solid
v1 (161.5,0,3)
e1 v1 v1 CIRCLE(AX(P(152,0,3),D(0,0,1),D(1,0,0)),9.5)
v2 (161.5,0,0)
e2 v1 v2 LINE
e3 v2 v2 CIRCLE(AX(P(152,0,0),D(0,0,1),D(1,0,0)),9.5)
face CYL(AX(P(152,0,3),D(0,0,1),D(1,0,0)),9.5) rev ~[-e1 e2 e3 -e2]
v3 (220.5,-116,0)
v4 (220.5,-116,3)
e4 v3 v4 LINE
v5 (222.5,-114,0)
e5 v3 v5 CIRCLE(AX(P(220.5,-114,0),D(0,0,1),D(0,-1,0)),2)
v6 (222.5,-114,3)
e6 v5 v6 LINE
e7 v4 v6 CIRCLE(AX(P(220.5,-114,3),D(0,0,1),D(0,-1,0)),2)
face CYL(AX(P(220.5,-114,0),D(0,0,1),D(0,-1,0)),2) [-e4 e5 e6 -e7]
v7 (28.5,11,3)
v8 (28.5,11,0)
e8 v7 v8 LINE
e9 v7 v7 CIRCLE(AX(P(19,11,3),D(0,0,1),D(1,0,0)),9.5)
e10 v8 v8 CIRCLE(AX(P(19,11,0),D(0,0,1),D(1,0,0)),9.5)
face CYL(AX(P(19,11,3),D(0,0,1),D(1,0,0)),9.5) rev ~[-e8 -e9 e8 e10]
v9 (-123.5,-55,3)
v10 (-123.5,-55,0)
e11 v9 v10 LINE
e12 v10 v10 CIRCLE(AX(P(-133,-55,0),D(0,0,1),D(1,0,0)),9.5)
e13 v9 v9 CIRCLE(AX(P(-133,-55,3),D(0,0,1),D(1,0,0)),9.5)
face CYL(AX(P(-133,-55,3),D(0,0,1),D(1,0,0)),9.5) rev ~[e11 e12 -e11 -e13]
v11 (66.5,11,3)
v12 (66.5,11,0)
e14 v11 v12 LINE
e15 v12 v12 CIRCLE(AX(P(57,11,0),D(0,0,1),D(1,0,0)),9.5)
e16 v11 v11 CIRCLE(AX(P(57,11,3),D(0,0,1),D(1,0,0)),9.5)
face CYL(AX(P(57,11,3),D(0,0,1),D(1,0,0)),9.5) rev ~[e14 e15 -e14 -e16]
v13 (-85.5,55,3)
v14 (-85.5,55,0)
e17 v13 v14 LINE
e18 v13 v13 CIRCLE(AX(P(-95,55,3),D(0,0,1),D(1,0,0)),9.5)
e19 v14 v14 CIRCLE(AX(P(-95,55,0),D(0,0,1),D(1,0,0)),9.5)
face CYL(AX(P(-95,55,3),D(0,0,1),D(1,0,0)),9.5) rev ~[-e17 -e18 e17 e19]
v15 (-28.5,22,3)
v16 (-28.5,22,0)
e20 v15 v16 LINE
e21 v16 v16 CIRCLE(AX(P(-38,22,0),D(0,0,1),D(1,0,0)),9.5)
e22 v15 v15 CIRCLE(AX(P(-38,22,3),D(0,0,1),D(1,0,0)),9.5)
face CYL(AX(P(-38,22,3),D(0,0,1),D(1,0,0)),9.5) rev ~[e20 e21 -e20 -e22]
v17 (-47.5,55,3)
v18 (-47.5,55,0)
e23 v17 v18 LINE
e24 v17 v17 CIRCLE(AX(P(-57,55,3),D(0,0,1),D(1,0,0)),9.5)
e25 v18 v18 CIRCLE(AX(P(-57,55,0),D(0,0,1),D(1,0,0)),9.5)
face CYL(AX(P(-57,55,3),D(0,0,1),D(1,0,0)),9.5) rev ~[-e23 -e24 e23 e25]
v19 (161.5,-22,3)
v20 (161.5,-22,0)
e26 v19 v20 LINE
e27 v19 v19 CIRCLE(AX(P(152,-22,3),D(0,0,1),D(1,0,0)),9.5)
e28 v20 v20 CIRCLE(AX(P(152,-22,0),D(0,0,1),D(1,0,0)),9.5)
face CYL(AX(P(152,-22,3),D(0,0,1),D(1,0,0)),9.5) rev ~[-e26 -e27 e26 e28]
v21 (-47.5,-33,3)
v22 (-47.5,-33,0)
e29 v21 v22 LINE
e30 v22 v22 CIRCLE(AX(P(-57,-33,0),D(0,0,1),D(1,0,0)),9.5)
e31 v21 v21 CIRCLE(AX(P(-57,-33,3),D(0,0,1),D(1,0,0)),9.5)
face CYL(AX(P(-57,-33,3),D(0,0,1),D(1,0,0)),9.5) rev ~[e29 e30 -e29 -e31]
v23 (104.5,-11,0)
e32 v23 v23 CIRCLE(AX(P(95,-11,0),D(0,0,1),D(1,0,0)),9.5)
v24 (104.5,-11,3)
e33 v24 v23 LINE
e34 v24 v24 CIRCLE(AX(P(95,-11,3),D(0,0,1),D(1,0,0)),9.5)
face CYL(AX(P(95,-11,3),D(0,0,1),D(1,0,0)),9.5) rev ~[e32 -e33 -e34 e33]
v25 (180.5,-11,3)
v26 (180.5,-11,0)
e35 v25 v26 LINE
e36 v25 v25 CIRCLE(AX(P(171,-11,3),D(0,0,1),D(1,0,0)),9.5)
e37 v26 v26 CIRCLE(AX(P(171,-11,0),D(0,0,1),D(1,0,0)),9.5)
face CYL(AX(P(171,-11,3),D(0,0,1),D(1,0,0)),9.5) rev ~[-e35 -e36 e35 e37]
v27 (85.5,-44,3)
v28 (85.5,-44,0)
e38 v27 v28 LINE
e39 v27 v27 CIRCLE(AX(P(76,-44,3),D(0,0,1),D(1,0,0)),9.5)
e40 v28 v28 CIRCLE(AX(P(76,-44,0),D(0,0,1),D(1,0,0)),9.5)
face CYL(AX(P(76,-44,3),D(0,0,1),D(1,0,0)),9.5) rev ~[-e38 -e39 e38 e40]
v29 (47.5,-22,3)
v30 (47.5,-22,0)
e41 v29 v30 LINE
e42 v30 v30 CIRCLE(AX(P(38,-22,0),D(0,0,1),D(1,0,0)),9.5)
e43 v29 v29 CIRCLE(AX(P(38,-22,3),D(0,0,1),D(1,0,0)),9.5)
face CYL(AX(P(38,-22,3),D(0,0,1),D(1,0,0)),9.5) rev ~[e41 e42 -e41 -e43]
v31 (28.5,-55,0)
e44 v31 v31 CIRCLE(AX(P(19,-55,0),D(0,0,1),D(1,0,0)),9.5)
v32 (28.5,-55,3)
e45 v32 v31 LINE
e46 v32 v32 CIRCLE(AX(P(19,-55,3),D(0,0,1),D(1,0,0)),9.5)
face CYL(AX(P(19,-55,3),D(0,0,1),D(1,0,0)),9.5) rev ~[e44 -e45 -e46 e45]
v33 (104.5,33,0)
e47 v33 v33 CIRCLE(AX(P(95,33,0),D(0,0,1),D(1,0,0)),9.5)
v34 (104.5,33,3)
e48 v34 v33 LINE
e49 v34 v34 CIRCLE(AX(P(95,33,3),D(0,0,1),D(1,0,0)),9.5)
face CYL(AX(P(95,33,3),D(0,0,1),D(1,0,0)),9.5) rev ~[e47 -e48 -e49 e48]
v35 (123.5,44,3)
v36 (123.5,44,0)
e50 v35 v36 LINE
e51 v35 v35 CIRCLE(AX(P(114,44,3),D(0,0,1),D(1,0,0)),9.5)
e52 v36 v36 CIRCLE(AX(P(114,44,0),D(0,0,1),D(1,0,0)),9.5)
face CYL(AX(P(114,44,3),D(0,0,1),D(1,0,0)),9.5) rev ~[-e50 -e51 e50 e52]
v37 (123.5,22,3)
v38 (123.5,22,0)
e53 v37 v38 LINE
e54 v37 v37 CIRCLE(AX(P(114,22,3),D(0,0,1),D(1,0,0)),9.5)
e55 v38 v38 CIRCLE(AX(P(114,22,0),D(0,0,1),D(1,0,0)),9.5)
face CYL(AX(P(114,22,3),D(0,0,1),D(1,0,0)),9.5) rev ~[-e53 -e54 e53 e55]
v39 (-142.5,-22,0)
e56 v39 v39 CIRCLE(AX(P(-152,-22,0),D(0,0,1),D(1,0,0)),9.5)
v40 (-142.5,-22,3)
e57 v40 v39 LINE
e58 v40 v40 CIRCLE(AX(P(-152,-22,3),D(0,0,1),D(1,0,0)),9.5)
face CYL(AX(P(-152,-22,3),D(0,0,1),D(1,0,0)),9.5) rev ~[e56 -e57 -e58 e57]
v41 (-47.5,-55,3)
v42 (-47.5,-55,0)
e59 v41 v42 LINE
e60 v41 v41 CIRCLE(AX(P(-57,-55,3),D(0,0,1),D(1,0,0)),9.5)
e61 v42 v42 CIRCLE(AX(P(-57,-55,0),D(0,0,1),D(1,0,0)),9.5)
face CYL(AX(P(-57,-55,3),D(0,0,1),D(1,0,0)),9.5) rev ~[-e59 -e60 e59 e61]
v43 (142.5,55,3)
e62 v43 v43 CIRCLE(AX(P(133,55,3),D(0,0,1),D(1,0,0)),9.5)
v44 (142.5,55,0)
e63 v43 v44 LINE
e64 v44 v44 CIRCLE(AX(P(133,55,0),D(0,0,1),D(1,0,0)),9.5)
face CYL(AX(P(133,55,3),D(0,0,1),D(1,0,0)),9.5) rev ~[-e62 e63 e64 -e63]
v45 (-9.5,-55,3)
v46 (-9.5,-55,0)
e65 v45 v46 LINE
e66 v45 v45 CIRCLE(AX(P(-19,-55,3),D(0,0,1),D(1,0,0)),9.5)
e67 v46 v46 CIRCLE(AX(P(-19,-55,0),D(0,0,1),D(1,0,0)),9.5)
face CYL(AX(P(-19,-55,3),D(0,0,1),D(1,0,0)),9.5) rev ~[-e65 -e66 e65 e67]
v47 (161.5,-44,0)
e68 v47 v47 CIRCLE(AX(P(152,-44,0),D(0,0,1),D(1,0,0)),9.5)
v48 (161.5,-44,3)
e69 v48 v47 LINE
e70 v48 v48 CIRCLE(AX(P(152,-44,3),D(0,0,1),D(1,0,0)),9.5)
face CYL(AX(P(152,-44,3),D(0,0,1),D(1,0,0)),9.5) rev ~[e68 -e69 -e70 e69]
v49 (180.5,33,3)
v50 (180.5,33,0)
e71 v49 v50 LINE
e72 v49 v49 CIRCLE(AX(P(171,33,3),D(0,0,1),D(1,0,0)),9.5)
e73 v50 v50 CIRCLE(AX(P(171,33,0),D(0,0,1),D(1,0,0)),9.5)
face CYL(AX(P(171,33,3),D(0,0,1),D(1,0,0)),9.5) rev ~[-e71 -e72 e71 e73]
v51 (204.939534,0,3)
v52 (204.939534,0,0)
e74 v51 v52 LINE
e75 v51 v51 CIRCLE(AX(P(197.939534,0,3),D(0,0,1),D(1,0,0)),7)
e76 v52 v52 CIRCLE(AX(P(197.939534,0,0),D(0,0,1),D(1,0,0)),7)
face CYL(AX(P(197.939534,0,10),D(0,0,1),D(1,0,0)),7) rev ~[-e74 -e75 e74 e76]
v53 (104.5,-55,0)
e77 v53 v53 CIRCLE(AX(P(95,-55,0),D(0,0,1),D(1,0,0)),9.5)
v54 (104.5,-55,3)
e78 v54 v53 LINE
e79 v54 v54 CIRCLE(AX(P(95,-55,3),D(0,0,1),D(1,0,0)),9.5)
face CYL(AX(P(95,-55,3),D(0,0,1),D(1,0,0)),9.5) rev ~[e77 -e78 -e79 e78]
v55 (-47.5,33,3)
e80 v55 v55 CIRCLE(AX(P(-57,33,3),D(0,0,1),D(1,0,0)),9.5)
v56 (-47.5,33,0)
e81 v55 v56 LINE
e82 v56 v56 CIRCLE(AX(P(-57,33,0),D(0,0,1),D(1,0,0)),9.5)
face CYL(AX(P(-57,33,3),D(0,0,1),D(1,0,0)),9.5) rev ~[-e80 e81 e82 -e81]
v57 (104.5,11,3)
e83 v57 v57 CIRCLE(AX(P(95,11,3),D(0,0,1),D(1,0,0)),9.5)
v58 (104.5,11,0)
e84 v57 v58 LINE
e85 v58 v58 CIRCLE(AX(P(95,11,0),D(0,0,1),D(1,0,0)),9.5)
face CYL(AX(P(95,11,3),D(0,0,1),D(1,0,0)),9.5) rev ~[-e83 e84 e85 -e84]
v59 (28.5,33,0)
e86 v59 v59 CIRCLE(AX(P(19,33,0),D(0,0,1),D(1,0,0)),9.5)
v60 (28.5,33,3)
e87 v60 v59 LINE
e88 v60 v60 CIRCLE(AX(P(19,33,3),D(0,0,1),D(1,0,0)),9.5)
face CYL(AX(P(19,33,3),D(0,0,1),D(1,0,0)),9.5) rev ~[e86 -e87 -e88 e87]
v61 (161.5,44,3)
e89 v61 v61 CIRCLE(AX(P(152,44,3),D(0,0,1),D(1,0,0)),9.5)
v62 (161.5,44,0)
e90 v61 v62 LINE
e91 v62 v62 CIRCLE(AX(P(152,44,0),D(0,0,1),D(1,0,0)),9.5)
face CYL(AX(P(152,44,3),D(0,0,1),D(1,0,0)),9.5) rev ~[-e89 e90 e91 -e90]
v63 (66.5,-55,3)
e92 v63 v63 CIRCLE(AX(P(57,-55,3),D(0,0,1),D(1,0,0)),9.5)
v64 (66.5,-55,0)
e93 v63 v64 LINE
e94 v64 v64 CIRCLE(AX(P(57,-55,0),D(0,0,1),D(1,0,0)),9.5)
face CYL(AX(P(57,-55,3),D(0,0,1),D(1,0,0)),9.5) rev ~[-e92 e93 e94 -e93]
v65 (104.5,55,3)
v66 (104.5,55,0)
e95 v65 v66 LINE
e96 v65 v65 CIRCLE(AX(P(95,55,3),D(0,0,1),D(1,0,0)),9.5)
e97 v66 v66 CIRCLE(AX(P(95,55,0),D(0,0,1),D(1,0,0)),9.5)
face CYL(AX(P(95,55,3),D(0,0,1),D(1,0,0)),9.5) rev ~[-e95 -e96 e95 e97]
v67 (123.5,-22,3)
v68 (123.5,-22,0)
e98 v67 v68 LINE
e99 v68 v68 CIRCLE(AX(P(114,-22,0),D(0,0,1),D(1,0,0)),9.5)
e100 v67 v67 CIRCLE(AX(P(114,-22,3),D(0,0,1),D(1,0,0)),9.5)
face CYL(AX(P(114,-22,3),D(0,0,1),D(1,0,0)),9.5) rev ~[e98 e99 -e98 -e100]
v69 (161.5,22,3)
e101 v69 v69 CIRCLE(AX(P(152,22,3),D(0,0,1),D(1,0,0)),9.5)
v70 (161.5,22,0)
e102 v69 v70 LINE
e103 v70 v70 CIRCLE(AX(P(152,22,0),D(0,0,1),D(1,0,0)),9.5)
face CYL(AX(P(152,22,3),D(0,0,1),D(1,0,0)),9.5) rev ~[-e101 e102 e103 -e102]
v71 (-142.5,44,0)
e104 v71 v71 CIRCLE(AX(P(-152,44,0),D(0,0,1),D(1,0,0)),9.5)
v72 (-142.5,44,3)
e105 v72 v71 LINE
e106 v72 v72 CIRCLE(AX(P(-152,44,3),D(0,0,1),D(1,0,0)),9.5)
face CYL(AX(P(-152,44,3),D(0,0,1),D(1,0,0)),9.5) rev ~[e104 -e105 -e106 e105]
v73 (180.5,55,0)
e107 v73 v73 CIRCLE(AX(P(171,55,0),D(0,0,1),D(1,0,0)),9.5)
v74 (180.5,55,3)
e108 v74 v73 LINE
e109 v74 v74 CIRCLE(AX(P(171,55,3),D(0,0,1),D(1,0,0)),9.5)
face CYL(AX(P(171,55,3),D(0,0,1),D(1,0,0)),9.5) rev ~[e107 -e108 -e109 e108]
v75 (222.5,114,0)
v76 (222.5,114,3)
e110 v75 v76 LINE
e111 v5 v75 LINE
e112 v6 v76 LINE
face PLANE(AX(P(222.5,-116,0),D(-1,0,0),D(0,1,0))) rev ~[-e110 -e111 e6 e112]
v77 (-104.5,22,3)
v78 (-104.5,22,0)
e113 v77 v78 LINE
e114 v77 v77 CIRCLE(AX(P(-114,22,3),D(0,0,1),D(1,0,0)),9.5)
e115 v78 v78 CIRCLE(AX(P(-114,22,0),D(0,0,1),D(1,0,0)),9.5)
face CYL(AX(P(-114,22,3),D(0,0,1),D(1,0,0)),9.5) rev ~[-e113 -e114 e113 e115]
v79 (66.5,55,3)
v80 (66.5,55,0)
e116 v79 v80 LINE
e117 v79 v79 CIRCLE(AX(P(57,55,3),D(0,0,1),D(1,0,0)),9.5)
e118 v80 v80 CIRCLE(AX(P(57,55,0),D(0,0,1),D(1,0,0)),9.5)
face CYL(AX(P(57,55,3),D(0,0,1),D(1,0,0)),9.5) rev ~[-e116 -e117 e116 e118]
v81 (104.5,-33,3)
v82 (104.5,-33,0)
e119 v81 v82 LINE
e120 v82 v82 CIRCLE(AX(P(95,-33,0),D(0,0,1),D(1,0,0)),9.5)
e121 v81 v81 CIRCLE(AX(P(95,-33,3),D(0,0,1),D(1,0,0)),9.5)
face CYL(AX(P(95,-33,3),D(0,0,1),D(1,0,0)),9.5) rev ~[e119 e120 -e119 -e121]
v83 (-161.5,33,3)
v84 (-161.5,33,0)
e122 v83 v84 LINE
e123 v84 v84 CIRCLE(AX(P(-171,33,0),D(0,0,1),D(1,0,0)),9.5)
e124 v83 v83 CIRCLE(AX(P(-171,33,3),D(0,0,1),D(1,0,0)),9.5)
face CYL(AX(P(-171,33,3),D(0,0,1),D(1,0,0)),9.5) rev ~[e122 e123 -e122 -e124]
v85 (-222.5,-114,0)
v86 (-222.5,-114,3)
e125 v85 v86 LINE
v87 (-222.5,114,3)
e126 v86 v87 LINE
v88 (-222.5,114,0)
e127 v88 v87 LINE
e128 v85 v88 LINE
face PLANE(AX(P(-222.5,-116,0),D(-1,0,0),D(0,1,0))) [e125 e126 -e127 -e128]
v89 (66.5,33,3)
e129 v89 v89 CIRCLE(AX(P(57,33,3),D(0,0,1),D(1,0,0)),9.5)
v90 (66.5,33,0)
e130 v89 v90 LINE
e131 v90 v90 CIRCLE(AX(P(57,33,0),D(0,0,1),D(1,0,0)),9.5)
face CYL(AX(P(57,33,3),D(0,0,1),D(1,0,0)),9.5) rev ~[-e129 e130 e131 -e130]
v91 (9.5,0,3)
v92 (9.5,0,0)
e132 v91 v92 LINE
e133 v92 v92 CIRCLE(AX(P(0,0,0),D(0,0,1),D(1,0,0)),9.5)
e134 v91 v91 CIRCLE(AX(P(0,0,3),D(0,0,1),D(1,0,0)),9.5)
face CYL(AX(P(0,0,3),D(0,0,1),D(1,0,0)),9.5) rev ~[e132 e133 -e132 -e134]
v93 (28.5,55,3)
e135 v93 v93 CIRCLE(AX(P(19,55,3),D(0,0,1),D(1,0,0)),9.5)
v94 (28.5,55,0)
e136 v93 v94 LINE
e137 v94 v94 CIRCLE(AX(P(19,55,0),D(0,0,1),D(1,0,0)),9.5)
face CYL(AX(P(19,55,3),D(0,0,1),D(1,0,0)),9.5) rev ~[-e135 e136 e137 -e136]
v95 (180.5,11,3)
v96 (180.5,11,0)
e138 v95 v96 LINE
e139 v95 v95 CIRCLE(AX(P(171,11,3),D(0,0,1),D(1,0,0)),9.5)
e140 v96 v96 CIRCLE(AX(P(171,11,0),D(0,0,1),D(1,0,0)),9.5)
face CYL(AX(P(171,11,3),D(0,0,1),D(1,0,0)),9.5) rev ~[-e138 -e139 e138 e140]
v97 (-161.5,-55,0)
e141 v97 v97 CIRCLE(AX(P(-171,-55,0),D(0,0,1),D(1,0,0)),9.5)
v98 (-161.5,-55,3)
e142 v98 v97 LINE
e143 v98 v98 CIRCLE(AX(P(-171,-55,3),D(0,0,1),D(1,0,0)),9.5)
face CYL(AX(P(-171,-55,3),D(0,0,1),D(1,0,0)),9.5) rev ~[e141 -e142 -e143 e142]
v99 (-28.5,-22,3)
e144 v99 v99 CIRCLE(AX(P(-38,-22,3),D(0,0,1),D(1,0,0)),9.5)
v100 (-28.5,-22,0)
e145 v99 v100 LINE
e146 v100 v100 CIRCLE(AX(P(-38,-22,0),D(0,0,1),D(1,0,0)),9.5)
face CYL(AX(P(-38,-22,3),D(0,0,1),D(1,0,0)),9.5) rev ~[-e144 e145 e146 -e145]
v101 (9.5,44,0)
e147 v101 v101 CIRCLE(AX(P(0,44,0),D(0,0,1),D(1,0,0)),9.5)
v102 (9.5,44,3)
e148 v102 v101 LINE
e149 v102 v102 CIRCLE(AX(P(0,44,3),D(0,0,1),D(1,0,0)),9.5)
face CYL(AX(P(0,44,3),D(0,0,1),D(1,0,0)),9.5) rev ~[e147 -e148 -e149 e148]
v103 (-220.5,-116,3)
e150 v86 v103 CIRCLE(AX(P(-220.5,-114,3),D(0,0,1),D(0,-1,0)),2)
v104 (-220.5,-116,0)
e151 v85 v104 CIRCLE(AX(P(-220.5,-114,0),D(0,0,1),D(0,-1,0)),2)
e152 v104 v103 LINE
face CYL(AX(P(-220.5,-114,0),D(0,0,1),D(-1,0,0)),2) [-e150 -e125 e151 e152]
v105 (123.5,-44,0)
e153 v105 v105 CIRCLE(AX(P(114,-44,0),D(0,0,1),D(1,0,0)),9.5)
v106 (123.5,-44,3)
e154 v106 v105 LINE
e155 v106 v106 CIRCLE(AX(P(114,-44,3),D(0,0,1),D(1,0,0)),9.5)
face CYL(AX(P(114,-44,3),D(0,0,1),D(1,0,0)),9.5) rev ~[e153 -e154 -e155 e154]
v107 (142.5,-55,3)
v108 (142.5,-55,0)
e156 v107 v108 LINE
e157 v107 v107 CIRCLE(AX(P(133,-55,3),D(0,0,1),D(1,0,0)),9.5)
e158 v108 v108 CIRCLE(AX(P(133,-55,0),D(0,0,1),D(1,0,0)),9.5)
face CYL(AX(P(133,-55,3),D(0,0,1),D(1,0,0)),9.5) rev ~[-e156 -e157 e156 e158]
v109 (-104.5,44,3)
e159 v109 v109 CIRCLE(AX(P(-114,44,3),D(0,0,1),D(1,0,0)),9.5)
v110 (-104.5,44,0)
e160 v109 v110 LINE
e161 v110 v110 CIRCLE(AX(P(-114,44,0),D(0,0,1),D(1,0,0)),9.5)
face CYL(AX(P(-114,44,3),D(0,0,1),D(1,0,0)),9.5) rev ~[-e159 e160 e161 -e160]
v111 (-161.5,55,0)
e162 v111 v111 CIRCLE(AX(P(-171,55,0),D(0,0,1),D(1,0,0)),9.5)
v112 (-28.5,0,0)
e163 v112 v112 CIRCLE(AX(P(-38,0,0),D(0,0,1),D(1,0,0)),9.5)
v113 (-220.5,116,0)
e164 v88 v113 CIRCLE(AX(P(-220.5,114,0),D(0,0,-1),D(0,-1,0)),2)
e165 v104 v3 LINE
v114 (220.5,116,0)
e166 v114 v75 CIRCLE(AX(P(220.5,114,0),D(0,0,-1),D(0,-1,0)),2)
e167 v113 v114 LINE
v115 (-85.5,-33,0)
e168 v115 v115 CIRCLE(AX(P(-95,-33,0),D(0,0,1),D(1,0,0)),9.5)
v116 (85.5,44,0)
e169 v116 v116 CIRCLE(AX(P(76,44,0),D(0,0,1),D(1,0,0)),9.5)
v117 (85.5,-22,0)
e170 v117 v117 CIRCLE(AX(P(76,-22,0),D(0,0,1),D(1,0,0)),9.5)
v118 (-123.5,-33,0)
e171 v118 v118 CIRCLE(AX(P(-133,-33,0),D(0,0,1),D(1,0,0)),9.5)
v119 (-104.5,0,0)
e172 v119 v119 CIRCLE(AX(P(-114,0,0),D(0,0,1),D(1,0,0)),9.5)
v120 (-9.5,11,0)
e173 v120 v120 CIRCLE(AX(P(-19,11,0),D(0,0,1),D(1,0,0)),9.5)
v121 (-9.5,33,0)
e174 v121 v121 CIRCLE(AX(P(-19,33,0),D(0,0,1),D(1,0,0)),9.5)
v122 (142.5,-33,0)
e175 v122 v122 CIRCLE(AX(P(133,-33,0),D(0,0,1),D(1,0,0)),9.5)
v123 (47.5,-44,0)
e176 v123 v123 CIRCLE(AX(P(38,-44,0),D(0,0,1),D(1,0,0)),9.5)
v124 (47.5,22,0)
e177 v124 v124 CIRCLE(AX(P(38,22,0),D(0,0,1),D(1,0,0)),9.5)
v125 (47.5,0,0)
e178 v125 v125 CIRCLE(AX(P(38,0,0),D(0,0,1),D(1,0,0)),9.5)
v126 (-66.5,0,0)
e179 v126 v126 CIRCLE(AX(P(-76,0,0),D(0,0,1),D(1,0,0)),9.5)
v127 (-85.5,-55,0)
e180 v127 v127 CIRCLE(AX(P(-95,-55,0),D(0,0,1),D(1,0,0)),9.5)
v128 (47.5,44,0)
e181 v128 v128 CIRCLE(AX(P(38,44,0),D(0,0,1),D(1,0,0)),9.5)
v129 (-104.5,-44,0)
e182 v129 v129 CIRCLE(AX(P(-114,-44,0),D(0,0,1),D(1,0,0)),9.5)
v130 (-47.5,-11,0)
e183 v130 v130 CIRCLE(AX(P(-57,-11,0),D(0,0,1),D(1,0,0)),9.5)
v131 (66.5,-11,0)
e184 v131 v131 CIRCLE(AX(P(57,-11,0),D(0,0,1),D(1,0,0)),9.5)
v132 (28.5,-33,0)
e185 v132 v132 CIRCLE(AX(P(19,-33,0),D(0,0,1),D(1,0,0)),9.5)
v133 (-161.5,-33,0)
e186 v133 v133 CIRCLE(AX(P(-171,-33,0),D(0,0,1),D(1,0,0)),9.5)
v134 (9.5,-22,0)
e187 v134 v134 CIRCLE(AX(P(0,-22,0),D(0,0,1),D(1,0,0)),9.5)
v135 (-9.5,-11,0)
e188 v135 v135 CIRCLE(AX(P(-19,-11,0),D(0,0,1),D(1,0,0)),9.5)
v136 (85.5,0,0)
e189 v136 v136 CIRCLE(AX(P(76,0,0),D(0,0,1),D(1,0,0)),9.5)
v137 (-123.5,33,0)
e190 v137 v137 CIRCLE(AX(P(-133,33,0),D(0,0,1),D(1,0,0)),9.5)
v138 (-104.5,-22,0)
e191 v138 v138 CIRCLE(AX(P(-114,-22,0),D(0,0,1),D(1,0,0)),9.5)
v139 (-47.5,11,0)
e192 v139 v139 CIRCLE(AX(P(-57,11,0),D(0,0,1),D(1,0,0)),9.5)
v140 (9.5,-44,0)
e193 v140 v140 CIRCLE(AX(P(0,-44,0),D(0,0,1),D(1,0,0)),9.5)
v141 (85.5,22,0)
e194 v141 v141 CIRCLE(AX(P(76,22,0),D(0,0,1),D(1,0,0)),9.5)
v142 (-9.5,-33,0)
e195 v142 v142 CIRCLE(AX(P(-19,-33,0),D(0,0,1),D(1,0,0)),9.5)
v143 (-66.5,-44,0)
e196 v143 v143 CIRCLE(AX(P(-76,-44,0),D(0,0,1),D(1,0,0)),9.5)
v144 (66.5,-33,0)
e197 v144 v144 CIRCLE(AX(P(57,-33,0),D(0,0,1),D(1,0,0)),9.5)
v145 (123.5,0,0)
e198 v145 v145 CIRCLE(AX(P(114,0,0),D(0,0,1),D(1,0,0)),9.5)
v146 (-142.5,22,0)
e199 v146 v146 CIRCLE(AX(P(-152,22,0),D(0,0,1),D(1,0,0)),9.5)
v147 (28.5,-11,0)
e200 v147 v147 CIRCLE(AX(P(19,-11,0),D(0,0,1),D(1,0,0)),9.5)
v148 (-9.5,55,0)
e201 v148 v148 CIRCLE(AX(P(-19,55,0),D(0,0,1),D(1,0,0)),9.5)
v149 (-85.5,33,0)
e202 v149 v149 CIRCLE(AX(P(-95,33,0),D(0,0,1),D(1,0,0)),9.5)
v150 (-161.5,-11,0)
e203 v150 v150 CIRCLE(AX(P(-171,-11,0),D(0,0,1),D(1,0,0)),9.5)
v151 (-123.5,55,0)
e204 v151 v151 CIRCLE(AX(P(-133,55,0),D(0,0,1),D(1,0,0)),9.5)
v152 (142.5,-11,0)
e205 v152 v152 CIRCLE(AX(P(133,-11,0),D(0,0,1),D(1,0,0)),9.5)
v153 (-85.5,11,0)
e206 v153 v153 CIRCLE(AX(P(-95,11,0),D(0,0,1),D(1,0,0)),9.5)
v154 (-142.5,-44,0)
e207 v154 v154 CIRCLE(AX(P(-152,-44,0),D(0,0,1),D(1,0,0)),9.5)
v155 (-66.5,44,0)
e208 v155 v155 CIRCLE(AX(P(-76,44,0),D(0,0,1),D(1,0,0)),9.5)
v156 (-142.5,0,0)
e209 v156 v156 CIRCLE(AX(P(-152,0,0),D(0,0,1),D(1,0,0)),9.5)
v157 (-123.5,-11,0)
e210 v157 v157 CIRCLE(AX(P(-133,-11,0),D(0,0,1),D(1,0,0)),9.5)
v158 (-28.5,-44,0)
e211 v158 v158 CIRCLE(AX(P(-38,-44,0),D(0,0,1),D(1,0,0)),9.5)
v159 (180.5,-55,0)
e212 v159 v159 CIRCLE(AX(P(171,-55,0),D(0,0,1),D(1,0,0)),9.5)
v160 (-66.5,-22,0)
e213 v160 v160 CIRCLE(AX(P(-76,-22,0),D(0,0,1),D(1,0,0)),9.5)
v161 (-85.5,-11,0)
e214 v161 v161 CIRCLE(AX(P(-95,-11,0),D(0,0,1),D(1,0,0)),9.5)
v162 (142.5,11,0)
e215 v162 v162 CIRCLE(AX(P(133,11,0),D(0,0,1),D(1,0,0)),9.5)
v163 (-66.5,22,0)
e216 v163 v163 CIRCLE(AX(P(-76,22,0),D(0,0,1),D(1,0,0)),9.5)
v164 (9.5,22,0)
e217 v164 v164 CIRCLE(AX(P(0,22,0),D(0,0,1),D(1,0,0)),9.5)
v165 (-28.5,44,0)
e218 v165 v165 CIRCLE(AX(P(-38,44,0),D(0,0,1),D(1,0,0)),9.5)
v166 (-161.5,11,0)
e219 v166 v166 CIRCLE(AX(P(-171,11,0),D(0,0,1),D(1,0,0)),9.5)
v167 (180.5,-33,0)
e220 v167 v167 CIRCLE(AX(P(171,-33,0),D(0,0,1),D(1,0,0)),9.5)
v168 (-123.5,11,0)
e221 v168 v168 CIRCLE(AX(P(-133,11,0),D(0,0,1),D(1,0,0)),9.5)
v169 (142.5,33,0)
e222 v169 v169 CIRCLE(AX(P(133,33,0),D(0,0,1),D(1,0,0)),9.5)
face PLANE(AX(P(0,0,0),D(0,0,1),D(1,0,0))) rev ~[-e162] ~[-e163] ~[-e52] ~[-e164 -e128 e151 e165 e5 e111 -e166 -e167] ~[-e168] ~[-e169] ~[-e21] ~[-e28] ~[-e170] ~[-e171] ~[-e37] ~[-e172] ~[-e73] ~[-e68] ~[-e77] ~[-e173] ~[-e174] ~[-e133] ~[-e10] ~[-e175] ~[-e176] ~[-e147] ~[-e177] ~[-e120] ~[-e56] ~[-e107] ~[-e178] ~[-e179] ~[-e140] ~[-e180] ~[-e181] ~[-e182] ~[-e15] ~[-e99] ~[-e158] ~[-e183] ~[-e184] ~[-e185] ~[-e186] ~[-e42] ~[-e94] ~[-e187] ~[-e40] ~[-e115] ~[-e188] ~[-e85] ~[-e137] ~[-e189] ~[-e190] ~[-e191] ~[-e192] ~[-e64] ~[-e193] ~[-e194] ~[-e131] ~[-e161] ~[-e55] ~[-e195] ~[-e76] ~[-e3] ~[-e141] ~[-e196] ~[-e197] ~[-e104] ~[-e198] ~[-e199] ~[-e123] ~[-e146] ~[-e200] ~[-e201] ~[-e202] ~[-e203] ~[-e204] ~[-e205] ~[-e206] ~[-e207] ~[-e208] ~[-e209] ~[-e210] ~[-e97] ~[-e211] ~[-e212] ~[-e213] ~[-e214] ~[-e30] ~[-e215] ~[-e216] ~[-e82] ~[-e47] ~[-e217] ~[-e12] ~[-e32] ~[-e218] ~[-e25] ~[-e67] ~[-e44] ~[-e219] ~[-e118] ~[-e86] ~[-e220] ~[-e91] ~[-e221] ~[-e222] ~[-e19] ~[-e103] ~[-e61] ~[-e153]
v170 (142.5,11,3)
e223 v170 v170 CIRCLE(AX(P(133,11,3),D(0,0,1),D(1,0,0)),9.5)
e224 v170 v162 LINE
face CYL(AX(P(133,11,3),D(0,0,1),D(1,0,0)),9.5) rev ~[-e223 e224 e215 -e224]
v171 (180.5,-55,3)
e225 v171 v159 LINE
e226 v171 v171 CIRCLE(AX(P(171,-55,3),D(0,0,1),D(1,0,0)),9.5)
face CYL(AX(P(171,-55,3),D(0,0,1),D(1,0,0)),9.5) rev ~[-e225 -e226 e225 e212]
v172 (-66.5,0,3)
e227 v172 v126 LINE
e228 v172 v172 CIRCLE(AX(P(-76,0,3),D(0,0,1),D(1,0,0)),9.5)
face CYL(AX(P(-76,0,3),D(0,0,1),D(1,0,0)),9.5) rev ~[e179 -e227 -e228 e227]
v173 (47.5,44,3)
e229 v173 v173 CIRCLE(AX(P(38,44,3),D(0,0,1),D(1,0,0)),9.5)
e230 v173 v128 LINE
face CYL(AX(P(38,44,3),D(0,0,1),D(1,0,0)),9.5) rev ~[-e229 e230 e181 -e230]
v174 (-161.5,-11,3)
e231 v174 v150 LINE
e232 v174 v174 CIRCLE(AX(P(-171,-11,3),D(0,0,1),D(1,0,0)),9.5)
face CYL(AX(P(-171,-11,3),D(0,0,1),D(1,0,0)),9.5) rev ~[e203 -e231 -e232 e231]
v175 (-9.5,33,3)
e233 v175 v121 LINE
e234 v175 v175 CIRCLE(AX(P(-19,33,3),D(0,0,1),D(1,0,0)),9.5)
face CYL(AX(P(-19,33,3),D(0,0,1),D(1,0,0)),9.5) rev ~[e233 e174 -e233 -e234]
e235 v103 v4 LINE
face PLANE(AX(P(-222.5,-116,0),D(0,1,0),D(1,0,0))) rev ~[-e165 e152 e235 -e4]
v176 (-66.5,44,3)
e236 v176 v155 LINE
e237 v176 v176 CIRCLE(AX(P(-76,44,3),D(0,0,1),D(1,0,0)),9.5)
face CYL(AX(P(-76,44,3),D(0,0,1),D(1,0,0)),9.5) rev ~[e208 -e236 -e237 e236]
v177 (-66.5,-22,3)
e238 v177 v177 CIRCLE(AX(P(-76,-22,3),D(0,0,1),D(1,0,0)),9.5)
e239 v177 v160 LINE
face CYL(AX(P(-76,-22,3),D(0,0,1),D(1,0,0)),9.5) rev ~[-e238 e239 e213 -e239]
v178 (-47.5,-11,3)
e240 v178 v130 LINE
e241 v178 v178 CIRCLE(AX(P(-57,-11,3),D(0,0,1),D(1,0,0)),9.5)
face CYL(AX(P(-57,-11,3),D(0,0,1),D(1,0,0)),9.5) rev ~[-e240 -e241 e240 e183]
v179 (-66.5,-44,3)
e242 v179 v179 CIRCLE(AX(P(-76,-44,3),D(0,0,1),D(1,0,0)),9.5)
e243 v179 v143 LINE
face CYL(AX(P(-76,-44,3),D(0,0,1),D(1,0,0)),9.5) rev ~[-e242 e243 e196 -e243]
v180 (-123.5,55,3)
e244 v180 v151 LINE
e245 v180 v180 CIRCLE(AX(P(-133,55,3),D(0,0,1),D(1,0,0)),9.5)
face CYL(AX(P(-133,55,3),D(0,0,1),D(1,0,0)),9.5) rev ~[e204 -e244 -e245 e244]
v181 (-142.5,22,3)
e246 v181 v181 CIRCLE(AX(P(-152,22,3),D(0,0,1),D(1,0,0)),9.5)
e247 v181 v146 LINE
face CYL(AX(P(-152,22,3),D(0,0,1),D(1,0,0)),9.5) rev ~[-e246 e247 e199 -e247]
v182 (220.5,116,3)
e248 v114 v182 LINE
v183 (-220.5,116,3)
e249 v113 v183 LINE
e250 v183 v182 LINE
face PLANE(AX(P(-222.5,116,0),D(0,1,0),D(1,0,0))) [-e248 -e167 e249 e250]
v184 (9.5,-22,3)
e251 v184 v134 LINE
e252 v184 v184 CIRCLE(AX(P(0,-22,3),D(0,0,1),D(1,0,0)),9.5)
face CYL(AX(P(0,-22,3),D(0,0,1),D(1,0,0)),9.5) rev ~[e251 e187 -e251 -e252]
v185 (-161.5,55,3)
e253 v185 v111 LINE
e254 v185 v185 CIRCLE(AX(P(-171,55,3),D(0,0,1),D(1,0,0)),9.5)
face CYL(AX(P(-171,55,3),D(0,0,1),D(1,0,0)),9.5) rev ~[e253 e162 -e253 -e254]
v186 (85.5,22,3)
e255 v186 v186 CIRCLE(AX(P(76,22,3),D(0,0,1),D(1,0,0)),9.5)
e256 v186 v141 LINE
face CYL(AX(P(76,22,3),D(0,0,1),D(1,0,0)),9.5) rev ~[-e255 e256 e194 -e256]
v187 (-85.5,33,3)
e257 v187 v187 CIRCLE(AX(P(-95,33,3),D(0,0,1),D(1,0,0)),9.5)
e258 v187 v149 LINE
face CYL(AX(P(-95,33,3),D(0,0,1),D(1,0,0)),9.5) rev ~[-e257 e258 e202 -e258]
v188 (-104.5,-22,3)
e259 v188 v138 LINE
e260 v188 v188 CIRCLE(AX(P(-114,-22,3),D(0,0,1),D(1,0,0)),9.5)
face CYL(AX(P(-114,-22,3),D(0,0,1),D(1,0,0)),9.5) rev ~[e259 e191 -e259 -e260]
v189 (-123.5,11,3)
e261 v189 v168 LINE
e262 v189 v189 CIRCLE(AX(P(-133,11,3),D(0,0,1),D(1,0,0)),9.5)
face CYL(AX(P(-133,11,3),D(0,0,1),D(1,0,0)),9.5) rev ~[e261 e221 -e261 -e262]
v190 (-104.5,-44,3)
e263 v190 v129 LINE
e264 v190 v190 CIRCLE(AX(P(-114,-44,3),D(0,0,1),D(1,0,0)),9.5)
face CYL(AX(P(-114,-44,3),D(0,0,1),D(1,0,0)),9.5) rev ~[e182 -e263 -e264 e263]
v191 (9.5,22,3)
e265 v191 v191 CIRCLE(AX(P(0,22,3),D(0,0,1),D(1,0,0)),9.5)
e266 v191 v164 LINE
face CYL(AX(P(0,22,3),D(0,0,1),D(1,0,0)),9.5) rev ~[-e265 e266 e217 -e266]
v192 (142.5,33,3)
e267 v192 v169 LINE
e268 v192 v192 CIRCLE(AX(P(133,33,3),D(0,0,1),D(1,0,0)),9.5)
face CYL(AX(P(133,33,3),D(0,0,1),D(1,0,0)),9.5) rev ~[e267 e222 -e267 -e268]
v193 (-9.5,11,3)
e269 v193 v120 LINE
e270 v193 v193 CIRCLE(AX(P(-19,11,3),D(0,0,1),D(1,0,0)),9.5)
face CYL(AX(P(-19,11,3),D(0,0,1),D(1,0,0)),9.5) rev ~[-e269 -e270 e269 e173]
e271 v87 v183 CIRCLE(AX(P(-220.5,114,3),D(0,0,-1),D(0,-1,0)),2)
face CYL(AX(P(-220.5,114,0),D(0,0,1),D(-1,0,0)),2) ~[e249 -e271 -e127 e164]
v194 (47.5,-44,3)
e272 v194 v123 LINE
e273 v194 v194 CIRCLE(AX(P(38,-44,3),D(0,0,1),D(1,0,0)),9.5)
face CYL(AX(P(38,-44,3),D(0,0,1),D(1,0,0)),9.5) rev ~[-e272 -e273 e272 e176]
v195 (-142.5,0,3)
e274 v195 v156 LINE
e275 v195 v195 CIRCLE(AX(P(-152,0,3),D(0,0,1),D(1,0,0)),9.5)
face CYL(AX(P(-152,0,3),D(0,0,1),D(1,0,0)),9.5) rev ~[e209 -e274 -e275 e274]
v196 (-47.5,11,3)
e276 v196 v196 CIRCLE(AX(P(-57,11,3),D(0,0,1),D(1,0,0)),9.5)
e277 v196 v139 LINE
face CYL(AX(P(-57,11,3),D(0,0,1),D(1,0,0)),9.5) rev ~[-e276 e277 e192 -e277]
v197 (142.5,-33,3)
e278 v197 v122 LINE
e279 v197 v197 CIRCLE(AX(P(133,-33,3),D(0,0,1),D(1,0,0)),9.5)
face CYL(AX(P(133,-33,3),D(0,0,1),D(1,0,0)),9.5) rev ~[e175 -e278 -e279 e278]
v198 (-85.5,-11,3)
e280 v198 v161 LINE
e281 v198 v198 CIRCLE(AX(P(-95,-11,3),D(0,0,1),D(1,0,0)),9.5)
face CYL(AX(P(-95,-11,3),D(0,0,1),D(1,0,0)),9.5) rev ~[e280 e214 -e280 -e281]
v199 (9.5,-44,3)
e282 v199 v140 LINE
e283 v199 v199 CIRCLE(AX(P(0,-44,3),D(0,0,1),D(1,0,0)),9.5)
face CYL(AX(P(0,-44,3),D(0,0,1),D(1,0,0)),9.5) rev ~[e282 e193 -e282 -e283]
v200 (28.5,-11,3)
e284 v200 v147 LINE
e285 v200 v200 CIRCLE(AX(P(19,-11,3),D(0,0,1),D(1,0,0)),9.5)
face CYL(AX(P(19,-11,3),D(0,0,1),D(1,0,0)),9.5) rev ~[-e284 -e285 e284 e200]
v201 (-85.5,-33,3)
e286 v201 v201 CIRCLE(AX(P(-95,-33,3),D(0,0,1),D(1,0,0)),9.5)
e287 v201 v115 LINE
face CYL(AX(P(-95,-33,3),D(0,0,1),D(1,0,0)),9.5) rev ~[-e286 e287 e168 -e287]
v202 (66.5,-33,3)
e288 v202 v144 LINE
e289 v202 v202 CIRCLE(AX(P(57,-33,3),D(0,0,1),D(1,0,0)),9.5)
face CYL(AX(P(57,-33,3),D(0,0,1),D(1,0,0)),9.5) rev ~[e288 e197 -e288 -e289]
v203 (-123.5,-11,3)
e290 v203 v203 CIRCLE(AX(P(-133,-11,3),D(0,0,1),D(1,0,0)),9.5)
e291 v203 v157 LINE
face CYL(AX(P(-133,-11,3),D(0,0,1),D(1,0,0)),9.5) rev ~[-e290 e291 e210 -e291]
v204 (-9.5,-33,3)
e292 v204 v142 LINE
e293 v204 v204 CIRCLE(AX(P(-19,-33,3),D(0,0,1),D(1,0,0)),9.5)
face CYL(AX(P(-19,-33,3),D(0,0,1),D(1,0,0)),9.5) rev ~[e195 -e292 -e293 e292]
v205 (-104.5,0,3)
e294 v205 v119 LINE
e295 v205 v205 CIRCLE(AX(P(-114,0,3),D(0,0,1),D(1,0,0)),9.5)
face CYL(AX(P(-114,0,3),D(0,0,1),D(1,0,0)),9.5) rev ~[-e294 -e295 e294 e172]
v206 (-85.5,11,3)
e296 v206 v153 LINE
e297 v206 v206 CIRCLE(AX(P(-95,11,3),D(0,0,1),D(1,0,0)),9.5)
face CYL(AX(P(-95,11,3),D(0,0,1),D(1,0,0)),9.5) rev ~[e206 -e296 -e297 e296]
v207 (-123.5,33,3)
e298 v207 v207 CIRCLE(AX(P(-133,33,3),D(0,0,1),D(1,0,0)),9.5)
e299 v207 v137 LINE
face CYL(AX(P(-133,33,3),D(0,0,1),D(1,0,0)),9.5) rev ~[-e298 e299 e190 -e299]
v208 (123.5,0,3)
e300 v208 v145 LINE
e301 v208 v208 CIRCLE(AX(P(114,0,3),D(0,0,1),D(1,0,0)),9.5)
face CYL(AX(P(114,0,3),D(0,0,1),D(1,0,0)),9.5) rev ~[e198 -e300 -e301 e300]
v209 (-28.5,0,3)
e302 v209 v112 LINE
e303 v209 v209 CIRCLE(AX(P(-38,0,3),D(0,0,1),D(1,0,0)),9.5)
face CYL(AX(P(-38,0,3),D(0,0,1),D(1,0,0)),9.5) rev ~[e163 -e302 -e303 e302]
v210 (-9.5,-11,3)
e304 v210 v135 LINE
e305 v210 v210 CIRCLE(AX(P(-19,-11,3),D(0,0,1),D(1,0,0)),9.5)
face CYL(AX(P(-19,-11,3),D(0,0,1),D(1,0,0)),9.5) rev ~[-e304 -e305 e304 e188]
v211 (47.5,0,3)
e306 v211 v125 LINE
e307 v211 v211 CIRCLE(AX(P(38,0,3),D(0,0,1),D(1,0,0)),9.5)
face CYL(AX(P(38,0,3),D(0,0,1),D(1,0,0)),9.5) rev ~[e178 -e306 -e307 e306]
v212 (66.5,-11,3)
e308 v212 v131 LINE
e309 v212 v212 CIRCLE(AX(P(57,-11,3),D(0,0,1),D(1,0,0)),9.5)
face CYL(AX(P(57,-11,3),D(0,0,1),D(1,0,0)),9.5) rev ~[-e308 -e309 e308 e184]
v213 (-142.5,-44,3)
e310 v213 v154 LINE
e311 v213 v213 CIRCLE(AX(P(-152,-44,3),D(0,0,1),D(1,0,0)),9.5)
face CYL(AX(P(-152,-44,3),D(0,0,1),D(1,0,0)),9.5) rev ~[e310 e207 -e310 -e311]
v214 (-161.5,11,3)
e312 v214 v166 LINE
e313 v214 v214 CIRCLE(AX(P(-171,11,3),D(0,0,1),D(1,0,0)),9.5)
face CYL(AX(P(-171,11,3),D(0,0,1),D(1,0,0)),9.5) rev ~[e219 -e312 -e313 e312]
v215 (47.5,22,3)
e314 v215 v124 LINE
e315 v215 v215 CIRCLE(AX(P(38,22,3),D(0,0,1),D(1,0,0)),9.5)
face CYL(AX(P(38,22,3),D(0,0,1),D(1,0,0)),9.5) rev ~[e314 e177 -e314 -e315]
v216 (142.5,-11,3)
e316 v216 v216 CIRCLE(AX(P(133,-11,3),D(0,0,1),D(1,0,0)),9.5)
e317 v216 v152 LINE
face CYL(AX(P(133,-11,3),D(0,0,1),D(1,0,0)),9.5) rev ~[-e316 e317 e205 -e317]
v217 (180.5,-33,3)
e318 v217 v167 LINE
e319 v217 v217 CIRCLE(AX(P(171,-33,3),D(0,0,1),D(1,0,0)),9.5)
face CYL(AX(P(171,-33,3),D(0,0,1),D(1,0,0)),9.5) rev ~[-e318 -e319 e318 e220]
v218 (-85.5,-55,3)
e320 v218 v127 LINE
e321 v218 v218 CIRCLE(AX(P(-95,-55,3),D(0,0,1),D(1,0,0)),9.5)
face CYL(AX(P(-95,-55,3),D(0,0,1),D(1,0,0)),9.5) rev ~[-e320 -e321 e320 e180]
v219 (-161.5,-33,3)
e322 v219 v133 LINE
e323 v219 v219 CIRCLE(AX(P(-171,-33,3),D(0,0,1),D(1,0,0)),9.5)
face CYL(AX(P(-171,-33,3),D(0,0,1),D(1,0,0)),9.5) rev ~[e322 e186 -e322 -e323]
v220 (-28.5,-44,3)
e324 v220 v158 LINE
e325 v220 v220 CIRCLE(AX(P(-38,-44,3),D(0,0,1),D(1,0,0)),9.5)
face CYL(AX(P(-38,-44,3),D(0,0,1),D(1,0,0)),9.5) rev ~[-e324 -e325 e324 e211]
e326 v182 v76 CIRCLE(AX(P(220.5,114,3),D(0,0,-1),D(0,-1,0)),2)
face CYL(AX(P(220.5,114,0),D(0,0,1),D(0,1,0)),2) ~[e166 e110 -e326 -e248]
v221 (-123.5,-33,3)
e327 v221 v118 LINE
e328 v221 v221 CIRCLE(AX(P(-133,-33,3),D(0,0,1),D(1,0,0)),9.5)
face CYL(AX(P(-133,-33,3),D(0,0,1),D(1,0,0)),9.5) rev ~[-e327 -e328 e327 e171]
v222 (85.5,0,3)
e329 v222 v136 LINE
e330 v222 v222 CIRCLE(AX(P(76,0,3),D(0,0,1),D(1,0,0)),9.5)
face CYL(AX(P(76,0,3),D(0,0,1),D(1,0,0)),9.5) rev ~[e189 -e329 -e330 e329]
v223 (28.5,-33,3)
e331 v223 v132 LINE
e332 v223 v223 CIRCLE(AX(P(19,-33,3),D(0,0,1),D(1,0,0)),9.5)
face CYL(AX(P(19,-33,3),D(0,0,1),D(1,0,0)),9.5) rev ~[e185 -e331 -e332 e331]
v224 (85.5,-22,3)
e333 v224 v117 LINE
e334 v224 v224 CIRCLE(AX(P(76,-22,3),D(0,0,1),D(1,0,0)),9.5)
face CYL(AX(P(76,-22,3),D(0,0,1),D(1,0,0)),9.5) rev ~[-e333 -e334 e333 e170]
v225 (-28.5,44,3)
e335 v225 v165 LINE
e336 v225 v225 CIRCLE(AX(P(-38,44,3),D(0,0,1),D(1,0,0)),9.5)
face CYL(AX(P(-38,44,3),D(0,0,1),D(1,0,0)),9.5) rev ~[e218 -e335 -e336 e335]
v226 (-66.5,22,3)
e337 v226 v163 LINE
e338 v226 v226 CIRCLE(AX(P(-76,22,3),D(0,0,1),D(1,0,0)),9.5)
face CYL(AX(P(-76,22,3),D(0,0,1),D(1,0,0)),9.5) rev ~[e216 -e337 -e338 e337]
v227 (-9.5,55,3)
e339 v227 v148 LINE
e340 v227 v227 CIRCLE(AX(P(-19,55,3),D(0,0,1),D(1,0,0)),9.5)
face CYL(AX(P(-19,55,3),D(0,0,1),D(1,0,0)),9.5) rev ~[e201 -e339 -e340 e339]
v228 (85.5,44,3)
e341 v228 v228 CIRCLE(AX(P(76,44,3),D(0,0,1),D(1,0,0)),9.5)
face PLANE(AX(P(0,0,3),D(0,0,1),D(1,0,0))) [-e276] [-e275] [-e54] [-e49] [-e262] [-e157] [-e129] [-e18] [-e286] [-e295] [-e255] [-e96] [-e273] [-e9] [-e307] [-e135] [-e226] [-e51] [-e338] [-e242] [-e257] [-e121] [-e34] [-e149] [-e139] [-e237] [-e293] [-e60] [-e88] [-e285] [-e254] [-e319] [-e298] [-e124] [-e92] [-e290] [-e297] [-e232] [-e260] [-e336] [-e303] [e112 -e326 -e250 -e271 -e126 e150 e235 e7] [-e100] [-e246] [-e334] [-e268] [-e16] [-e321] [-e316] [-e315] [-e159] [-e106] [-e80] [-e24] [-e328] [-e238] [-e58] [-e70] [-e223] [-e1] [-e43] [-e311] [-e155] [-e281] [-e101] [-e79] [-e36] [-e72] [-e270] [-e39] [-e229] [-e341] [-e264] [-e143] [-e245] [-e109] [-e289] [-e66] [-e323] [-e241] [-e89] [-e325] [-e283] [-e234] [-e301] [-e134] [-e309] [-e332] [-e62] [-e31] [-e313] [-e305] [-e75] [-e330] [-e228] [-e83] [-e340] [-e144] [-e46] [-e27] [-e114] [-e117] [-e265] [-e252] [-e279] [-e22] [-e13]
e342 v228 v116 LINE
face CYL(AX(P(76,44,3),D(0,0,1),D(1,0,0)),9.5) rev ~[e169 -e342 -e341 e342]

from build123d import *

# Parameters (mm, degrees)
SKETCH_W        = 445
SKETCH_H        = 232
PAD_DEPTH       = 3
SKETCH001_R     = 9.5
POCKET_DEPTH    = 5
FILLET002_R     = 2
SKETCH015_R     = 7
POCKET009_DEPTH = 10.001


with BuildPart() as part:
    # Sketch → Pad (new body)
    with BuildSketch(Plane.XY):
        Rectangle(SKETCH_W, SKETCH_H)
    extrude(amount=PAD_DEPTH)

    # Sketch001 (on Face6 of Pad) → Pocket (cut)
    with BuildSketch(Plane.XY.offset(3)):
        with Locations((-171, 55)):
            Circle(SKETCH001_R)
        with Locations((-171, 33)):
            Circle(SKETCH001_R)
        with Locations((-171, 11)):
            Circle(SKETCH001_R)
        with Locations((-171, -11)):
            Circle(SKETCH001_R)
        with Locations((-171, -33)):
            Circle(SKETCH001_R)
        with Locations((-171, -55)):
            Circle(SKETCH001_R)
        with Locations((-152, 44)):
            Circle(SKETCH001_R)
        with Locations((-152, 22)):
            Circle(SKETCH001_R)
        with Locations((-152, 0)):
            Circle(SKETCH001_R)
        with Locations((-152, -22)):
            Circle(SKETCH001_R)
        with Locations((-152, -44)):
            Circle(SKETCH001_R)
        with Locations((-133, 55)):
            Circle(SKETCH001_R)
        with Locations((-133, 33)):
            Circle(SKETCH001_R)
        with Locations((-133, 11)):
            Circle(SKETCH001_R)
        with Locations((-133, -11)):
            Circle(SKETCH001_R)
        with Locations((-133, -33)):
            Circle(SKETCH001_R)
        with Locations((-133, -55)):
            Circle(SKETCH001_R)
        with Locations((-114, 44)):
            Circle(SKETCH001_R)
        with Locations((-114, 22)):
            Circle(SKETCH001_R)
        with Locations((-114, 0)):
            Circle(SKETCH001_R)
        with Locations((-114, -22)):
            Circle(SKETCH001_R)
        with Locations((-114, -44)):
            Circle(SKETCH001_R)
        with Locations((-95, 55)):
            Circle(SKETCH001_R)
        with Locations((-95, 33)):
            Circle(SKETCH001_R)
        with Locations((-95, 11)):
            Circle(SKETCH001_R)
        with Locations((-95, -11)):
            Circle(SKETCH001_R)
        with Locations((-95, -33)):
            Circle(SKETCH001_R)
        with Locations((-95, -55)):
            Circle(SKETCH001_R)
        with Locations((-76, -44)):
            Circle(SKETCH001_R)
        with Locations((-76, -22)):
            Circle(SKETCH001_R)
        with Locations((-76, 0)):
            Circle(SKETCH001_R)
        with Locations((-76, 22)):
            Circle(SKETCH001_R)
        with Locations((-76, 44)):
            Circle(SKETCH001_R)
        with Locations((-57, 55)):
            Circle(SKETCH001_R)
        with Locations((-57, 33)):
            Circle(SKETCH001_R)
        with Locations((-57, 11)):
            Circle(SKETCH001_R)
        with Locations((-57, -11)):
            Circle(SKETCH001_R)
        with Locations((-57, -33)):
            Circle(SKETCH001_R)
        with Locations((-38, 44)):
            Circle(SKETCH001_R)
        with Locations((-38, 22)):
            Circle(SKETCH001_R)
        with Locations((-38, 0)):
            Circle(SKETCH001_R)
        with Locations((-38, -22)):
            Circle(SKETCH001_R)
        with Locations((-38, -44)):
            Circle(SKETCH001_R)
        with Locations((-57, -55)):
            Circle(SKETCH001_R)
        with Locations((-19, 55)):
            Circle(SKETCH001_R)
        with Locations((-19, 33)):
            Circle(SKETCH001_R)
        with Locations((-19, 11)):
            Circle(SKETCH001_R)
        with Locations((-19, -11)):
            Circle(SKETCH001_R)
        with Locations((-19, -33)):
            Circle(SKETCH001_R)
        with Locations((-19, -55)):
            Circle(SKETCH001_R)
        with Locations((0, -44)):
            Circle(SKETCH001_R)
        with Locations((0, -22)):
            Circle(SKETCH001_R)
        Circle(SKETCH001_R)
        with Locations((0, 22)):
            Circle(SKETCH001_R)
        with Locations((0, 44)):
            Circle(SKETCH001_R)
        with Locations((19, 55)):
            Circle(SKETCH001_R)
        with Locations((19, 33)):
            Circle(SKETCH001_R)
        with Locations((19, 11)):
            Circle(SKETCH001_R)
        with Locations((19, -11)):
            Circle(SKETCH001_R)
        with Locations((19, -33)):
            Circle(SKETCH001_R)
        with Locations((19, -55)):
            Circle(SKETCH001_R)
        with Locations((38, -44)):
            Circle(SKETCH001_R)
        with Locations((38, -22)):
            Circle(SKETCH001_R)
        with Locations((38, 0)):
            Circle(SKETCH001_R)
        with Locations((38, 22)):
            Circle(SKETCH001_R)
        with Locations((38, 44)):
            Circle(SKETCH001_R)
        with Locations((57, 55)):
            Circle(SKETCH001_R)
        with Locations((57, 33)):
            Circle(SKETCH001_R)
        with Locations((57, 11)):
            Circle(SKETCH001_R)
        with Locations((57, -11)):
            Circle(SKETCH001_R)
        with Locations((76, 0)):
            Circle(SKETCH001_R)
        with Locations((76, 22)):
            Circle(SKETCH001_R)
        with Locations((76, 44)):
            Circle(SKETCH001_R)
        with Locations((57, -33)):
            Circle(SKETCH001_R)
        with Locations((57, -55)):
            Circle(SKETCH001_R)
        with Locations((76, -44)):
            Circle(SKETCH001_R)
        with Locations((76, -22)):
            Circle(SKETCH001_R)
        with Locations((95, 55)):
            Circle(SKETCH001_R)
        with Locations((95, 33)):
            Circle(SKETCH001_R)
        with Locations((95, 11)):
            Circle(SKETCH001_R)
        with Locations((95, -11)):
            Circle(SKETCH001_R)
        with Locations((95, -33)):
            Circle(SKETCH001_R)
        with Locations((95, -55)):
            Circle(SKETCH001_R)
        with Locations((114, 44)):
            Circle(SKETCH001_R)
        with Locations((114, 22)):
            Circle(SKETCH001_R)
        with Locations((114, 0)):
            Circle(SKETCH001_R)
        with Locations((114, -22)):
            Circle(SKETCH001_R)
        with Locations((114, -44)):
            Circle(SKETCH001_R)
        with Locations((133, 55)):
            Circle(SKETCH001_R)
        with Locations((133, 33)):
            Circle(SKETCH001_R)
        with Locations((133, 11)):
            Circle(SKETCH001_R)
        with Locations((133, -11)):
            Circle(SKETCH001_R)
        with Locations((133, -33)):
            Circle(SKETCH001_R)
        with Locations((133, -55)):
            Circle(SKETCH001_R)
        with Locations((152, 44)):
            Circle(SKETCH001_R)
        with Locations((152, 22)):
            Circle(SKETCH001_R)
        with Locations((152, 0)):
            Circle(SKETCH001_R)
        with Locations((152, -22)):
            Circle(SKETCH001_R)
        with Locations((152, -44)):
            Circle(SKETCH001_R)
        with Locations((171, 55)):
            Circle(SKETCH001_R)
        with Locations((171, 33)):
            Circle(SKETCH001_R)
        with Locations((171, 11)):
            Circle(SKETCH001_R)
        with Locations((171, -11)):
            Circle(SKETCH001_R)
        with Locations((171, -33)):
            Circle(SKETCH001_R)
        with Locations((171, -55)):
            Circle(SKETCH001_R)
    extrude(amount=-POCKET_DEPTH, mode=Mode.SUBTRACT)

    # Fillet002
    fillet002_edges = [part.edges().sort_by_distance(p)[0] for p in [
        (-222.5, -116, 1.5),
        (222.5, -116, 1.5),
        (222.5, 116, 1.5),
        (-222.5, 116, 1.5),
    ]]
    fillet(fillet002_edges, radius=FILLET002_R)

    # Sketch015 → Pocket009 (cut, through all)
    with BuildSketch(Plane.XY.offset(10)):
        with Locations((197.939534, 0)):
            Circle(SKETCH015_R)
    extrude(amount=-POCKET009_DEPTH, mode=Mode.SUBTRACT)


solid = part.part
